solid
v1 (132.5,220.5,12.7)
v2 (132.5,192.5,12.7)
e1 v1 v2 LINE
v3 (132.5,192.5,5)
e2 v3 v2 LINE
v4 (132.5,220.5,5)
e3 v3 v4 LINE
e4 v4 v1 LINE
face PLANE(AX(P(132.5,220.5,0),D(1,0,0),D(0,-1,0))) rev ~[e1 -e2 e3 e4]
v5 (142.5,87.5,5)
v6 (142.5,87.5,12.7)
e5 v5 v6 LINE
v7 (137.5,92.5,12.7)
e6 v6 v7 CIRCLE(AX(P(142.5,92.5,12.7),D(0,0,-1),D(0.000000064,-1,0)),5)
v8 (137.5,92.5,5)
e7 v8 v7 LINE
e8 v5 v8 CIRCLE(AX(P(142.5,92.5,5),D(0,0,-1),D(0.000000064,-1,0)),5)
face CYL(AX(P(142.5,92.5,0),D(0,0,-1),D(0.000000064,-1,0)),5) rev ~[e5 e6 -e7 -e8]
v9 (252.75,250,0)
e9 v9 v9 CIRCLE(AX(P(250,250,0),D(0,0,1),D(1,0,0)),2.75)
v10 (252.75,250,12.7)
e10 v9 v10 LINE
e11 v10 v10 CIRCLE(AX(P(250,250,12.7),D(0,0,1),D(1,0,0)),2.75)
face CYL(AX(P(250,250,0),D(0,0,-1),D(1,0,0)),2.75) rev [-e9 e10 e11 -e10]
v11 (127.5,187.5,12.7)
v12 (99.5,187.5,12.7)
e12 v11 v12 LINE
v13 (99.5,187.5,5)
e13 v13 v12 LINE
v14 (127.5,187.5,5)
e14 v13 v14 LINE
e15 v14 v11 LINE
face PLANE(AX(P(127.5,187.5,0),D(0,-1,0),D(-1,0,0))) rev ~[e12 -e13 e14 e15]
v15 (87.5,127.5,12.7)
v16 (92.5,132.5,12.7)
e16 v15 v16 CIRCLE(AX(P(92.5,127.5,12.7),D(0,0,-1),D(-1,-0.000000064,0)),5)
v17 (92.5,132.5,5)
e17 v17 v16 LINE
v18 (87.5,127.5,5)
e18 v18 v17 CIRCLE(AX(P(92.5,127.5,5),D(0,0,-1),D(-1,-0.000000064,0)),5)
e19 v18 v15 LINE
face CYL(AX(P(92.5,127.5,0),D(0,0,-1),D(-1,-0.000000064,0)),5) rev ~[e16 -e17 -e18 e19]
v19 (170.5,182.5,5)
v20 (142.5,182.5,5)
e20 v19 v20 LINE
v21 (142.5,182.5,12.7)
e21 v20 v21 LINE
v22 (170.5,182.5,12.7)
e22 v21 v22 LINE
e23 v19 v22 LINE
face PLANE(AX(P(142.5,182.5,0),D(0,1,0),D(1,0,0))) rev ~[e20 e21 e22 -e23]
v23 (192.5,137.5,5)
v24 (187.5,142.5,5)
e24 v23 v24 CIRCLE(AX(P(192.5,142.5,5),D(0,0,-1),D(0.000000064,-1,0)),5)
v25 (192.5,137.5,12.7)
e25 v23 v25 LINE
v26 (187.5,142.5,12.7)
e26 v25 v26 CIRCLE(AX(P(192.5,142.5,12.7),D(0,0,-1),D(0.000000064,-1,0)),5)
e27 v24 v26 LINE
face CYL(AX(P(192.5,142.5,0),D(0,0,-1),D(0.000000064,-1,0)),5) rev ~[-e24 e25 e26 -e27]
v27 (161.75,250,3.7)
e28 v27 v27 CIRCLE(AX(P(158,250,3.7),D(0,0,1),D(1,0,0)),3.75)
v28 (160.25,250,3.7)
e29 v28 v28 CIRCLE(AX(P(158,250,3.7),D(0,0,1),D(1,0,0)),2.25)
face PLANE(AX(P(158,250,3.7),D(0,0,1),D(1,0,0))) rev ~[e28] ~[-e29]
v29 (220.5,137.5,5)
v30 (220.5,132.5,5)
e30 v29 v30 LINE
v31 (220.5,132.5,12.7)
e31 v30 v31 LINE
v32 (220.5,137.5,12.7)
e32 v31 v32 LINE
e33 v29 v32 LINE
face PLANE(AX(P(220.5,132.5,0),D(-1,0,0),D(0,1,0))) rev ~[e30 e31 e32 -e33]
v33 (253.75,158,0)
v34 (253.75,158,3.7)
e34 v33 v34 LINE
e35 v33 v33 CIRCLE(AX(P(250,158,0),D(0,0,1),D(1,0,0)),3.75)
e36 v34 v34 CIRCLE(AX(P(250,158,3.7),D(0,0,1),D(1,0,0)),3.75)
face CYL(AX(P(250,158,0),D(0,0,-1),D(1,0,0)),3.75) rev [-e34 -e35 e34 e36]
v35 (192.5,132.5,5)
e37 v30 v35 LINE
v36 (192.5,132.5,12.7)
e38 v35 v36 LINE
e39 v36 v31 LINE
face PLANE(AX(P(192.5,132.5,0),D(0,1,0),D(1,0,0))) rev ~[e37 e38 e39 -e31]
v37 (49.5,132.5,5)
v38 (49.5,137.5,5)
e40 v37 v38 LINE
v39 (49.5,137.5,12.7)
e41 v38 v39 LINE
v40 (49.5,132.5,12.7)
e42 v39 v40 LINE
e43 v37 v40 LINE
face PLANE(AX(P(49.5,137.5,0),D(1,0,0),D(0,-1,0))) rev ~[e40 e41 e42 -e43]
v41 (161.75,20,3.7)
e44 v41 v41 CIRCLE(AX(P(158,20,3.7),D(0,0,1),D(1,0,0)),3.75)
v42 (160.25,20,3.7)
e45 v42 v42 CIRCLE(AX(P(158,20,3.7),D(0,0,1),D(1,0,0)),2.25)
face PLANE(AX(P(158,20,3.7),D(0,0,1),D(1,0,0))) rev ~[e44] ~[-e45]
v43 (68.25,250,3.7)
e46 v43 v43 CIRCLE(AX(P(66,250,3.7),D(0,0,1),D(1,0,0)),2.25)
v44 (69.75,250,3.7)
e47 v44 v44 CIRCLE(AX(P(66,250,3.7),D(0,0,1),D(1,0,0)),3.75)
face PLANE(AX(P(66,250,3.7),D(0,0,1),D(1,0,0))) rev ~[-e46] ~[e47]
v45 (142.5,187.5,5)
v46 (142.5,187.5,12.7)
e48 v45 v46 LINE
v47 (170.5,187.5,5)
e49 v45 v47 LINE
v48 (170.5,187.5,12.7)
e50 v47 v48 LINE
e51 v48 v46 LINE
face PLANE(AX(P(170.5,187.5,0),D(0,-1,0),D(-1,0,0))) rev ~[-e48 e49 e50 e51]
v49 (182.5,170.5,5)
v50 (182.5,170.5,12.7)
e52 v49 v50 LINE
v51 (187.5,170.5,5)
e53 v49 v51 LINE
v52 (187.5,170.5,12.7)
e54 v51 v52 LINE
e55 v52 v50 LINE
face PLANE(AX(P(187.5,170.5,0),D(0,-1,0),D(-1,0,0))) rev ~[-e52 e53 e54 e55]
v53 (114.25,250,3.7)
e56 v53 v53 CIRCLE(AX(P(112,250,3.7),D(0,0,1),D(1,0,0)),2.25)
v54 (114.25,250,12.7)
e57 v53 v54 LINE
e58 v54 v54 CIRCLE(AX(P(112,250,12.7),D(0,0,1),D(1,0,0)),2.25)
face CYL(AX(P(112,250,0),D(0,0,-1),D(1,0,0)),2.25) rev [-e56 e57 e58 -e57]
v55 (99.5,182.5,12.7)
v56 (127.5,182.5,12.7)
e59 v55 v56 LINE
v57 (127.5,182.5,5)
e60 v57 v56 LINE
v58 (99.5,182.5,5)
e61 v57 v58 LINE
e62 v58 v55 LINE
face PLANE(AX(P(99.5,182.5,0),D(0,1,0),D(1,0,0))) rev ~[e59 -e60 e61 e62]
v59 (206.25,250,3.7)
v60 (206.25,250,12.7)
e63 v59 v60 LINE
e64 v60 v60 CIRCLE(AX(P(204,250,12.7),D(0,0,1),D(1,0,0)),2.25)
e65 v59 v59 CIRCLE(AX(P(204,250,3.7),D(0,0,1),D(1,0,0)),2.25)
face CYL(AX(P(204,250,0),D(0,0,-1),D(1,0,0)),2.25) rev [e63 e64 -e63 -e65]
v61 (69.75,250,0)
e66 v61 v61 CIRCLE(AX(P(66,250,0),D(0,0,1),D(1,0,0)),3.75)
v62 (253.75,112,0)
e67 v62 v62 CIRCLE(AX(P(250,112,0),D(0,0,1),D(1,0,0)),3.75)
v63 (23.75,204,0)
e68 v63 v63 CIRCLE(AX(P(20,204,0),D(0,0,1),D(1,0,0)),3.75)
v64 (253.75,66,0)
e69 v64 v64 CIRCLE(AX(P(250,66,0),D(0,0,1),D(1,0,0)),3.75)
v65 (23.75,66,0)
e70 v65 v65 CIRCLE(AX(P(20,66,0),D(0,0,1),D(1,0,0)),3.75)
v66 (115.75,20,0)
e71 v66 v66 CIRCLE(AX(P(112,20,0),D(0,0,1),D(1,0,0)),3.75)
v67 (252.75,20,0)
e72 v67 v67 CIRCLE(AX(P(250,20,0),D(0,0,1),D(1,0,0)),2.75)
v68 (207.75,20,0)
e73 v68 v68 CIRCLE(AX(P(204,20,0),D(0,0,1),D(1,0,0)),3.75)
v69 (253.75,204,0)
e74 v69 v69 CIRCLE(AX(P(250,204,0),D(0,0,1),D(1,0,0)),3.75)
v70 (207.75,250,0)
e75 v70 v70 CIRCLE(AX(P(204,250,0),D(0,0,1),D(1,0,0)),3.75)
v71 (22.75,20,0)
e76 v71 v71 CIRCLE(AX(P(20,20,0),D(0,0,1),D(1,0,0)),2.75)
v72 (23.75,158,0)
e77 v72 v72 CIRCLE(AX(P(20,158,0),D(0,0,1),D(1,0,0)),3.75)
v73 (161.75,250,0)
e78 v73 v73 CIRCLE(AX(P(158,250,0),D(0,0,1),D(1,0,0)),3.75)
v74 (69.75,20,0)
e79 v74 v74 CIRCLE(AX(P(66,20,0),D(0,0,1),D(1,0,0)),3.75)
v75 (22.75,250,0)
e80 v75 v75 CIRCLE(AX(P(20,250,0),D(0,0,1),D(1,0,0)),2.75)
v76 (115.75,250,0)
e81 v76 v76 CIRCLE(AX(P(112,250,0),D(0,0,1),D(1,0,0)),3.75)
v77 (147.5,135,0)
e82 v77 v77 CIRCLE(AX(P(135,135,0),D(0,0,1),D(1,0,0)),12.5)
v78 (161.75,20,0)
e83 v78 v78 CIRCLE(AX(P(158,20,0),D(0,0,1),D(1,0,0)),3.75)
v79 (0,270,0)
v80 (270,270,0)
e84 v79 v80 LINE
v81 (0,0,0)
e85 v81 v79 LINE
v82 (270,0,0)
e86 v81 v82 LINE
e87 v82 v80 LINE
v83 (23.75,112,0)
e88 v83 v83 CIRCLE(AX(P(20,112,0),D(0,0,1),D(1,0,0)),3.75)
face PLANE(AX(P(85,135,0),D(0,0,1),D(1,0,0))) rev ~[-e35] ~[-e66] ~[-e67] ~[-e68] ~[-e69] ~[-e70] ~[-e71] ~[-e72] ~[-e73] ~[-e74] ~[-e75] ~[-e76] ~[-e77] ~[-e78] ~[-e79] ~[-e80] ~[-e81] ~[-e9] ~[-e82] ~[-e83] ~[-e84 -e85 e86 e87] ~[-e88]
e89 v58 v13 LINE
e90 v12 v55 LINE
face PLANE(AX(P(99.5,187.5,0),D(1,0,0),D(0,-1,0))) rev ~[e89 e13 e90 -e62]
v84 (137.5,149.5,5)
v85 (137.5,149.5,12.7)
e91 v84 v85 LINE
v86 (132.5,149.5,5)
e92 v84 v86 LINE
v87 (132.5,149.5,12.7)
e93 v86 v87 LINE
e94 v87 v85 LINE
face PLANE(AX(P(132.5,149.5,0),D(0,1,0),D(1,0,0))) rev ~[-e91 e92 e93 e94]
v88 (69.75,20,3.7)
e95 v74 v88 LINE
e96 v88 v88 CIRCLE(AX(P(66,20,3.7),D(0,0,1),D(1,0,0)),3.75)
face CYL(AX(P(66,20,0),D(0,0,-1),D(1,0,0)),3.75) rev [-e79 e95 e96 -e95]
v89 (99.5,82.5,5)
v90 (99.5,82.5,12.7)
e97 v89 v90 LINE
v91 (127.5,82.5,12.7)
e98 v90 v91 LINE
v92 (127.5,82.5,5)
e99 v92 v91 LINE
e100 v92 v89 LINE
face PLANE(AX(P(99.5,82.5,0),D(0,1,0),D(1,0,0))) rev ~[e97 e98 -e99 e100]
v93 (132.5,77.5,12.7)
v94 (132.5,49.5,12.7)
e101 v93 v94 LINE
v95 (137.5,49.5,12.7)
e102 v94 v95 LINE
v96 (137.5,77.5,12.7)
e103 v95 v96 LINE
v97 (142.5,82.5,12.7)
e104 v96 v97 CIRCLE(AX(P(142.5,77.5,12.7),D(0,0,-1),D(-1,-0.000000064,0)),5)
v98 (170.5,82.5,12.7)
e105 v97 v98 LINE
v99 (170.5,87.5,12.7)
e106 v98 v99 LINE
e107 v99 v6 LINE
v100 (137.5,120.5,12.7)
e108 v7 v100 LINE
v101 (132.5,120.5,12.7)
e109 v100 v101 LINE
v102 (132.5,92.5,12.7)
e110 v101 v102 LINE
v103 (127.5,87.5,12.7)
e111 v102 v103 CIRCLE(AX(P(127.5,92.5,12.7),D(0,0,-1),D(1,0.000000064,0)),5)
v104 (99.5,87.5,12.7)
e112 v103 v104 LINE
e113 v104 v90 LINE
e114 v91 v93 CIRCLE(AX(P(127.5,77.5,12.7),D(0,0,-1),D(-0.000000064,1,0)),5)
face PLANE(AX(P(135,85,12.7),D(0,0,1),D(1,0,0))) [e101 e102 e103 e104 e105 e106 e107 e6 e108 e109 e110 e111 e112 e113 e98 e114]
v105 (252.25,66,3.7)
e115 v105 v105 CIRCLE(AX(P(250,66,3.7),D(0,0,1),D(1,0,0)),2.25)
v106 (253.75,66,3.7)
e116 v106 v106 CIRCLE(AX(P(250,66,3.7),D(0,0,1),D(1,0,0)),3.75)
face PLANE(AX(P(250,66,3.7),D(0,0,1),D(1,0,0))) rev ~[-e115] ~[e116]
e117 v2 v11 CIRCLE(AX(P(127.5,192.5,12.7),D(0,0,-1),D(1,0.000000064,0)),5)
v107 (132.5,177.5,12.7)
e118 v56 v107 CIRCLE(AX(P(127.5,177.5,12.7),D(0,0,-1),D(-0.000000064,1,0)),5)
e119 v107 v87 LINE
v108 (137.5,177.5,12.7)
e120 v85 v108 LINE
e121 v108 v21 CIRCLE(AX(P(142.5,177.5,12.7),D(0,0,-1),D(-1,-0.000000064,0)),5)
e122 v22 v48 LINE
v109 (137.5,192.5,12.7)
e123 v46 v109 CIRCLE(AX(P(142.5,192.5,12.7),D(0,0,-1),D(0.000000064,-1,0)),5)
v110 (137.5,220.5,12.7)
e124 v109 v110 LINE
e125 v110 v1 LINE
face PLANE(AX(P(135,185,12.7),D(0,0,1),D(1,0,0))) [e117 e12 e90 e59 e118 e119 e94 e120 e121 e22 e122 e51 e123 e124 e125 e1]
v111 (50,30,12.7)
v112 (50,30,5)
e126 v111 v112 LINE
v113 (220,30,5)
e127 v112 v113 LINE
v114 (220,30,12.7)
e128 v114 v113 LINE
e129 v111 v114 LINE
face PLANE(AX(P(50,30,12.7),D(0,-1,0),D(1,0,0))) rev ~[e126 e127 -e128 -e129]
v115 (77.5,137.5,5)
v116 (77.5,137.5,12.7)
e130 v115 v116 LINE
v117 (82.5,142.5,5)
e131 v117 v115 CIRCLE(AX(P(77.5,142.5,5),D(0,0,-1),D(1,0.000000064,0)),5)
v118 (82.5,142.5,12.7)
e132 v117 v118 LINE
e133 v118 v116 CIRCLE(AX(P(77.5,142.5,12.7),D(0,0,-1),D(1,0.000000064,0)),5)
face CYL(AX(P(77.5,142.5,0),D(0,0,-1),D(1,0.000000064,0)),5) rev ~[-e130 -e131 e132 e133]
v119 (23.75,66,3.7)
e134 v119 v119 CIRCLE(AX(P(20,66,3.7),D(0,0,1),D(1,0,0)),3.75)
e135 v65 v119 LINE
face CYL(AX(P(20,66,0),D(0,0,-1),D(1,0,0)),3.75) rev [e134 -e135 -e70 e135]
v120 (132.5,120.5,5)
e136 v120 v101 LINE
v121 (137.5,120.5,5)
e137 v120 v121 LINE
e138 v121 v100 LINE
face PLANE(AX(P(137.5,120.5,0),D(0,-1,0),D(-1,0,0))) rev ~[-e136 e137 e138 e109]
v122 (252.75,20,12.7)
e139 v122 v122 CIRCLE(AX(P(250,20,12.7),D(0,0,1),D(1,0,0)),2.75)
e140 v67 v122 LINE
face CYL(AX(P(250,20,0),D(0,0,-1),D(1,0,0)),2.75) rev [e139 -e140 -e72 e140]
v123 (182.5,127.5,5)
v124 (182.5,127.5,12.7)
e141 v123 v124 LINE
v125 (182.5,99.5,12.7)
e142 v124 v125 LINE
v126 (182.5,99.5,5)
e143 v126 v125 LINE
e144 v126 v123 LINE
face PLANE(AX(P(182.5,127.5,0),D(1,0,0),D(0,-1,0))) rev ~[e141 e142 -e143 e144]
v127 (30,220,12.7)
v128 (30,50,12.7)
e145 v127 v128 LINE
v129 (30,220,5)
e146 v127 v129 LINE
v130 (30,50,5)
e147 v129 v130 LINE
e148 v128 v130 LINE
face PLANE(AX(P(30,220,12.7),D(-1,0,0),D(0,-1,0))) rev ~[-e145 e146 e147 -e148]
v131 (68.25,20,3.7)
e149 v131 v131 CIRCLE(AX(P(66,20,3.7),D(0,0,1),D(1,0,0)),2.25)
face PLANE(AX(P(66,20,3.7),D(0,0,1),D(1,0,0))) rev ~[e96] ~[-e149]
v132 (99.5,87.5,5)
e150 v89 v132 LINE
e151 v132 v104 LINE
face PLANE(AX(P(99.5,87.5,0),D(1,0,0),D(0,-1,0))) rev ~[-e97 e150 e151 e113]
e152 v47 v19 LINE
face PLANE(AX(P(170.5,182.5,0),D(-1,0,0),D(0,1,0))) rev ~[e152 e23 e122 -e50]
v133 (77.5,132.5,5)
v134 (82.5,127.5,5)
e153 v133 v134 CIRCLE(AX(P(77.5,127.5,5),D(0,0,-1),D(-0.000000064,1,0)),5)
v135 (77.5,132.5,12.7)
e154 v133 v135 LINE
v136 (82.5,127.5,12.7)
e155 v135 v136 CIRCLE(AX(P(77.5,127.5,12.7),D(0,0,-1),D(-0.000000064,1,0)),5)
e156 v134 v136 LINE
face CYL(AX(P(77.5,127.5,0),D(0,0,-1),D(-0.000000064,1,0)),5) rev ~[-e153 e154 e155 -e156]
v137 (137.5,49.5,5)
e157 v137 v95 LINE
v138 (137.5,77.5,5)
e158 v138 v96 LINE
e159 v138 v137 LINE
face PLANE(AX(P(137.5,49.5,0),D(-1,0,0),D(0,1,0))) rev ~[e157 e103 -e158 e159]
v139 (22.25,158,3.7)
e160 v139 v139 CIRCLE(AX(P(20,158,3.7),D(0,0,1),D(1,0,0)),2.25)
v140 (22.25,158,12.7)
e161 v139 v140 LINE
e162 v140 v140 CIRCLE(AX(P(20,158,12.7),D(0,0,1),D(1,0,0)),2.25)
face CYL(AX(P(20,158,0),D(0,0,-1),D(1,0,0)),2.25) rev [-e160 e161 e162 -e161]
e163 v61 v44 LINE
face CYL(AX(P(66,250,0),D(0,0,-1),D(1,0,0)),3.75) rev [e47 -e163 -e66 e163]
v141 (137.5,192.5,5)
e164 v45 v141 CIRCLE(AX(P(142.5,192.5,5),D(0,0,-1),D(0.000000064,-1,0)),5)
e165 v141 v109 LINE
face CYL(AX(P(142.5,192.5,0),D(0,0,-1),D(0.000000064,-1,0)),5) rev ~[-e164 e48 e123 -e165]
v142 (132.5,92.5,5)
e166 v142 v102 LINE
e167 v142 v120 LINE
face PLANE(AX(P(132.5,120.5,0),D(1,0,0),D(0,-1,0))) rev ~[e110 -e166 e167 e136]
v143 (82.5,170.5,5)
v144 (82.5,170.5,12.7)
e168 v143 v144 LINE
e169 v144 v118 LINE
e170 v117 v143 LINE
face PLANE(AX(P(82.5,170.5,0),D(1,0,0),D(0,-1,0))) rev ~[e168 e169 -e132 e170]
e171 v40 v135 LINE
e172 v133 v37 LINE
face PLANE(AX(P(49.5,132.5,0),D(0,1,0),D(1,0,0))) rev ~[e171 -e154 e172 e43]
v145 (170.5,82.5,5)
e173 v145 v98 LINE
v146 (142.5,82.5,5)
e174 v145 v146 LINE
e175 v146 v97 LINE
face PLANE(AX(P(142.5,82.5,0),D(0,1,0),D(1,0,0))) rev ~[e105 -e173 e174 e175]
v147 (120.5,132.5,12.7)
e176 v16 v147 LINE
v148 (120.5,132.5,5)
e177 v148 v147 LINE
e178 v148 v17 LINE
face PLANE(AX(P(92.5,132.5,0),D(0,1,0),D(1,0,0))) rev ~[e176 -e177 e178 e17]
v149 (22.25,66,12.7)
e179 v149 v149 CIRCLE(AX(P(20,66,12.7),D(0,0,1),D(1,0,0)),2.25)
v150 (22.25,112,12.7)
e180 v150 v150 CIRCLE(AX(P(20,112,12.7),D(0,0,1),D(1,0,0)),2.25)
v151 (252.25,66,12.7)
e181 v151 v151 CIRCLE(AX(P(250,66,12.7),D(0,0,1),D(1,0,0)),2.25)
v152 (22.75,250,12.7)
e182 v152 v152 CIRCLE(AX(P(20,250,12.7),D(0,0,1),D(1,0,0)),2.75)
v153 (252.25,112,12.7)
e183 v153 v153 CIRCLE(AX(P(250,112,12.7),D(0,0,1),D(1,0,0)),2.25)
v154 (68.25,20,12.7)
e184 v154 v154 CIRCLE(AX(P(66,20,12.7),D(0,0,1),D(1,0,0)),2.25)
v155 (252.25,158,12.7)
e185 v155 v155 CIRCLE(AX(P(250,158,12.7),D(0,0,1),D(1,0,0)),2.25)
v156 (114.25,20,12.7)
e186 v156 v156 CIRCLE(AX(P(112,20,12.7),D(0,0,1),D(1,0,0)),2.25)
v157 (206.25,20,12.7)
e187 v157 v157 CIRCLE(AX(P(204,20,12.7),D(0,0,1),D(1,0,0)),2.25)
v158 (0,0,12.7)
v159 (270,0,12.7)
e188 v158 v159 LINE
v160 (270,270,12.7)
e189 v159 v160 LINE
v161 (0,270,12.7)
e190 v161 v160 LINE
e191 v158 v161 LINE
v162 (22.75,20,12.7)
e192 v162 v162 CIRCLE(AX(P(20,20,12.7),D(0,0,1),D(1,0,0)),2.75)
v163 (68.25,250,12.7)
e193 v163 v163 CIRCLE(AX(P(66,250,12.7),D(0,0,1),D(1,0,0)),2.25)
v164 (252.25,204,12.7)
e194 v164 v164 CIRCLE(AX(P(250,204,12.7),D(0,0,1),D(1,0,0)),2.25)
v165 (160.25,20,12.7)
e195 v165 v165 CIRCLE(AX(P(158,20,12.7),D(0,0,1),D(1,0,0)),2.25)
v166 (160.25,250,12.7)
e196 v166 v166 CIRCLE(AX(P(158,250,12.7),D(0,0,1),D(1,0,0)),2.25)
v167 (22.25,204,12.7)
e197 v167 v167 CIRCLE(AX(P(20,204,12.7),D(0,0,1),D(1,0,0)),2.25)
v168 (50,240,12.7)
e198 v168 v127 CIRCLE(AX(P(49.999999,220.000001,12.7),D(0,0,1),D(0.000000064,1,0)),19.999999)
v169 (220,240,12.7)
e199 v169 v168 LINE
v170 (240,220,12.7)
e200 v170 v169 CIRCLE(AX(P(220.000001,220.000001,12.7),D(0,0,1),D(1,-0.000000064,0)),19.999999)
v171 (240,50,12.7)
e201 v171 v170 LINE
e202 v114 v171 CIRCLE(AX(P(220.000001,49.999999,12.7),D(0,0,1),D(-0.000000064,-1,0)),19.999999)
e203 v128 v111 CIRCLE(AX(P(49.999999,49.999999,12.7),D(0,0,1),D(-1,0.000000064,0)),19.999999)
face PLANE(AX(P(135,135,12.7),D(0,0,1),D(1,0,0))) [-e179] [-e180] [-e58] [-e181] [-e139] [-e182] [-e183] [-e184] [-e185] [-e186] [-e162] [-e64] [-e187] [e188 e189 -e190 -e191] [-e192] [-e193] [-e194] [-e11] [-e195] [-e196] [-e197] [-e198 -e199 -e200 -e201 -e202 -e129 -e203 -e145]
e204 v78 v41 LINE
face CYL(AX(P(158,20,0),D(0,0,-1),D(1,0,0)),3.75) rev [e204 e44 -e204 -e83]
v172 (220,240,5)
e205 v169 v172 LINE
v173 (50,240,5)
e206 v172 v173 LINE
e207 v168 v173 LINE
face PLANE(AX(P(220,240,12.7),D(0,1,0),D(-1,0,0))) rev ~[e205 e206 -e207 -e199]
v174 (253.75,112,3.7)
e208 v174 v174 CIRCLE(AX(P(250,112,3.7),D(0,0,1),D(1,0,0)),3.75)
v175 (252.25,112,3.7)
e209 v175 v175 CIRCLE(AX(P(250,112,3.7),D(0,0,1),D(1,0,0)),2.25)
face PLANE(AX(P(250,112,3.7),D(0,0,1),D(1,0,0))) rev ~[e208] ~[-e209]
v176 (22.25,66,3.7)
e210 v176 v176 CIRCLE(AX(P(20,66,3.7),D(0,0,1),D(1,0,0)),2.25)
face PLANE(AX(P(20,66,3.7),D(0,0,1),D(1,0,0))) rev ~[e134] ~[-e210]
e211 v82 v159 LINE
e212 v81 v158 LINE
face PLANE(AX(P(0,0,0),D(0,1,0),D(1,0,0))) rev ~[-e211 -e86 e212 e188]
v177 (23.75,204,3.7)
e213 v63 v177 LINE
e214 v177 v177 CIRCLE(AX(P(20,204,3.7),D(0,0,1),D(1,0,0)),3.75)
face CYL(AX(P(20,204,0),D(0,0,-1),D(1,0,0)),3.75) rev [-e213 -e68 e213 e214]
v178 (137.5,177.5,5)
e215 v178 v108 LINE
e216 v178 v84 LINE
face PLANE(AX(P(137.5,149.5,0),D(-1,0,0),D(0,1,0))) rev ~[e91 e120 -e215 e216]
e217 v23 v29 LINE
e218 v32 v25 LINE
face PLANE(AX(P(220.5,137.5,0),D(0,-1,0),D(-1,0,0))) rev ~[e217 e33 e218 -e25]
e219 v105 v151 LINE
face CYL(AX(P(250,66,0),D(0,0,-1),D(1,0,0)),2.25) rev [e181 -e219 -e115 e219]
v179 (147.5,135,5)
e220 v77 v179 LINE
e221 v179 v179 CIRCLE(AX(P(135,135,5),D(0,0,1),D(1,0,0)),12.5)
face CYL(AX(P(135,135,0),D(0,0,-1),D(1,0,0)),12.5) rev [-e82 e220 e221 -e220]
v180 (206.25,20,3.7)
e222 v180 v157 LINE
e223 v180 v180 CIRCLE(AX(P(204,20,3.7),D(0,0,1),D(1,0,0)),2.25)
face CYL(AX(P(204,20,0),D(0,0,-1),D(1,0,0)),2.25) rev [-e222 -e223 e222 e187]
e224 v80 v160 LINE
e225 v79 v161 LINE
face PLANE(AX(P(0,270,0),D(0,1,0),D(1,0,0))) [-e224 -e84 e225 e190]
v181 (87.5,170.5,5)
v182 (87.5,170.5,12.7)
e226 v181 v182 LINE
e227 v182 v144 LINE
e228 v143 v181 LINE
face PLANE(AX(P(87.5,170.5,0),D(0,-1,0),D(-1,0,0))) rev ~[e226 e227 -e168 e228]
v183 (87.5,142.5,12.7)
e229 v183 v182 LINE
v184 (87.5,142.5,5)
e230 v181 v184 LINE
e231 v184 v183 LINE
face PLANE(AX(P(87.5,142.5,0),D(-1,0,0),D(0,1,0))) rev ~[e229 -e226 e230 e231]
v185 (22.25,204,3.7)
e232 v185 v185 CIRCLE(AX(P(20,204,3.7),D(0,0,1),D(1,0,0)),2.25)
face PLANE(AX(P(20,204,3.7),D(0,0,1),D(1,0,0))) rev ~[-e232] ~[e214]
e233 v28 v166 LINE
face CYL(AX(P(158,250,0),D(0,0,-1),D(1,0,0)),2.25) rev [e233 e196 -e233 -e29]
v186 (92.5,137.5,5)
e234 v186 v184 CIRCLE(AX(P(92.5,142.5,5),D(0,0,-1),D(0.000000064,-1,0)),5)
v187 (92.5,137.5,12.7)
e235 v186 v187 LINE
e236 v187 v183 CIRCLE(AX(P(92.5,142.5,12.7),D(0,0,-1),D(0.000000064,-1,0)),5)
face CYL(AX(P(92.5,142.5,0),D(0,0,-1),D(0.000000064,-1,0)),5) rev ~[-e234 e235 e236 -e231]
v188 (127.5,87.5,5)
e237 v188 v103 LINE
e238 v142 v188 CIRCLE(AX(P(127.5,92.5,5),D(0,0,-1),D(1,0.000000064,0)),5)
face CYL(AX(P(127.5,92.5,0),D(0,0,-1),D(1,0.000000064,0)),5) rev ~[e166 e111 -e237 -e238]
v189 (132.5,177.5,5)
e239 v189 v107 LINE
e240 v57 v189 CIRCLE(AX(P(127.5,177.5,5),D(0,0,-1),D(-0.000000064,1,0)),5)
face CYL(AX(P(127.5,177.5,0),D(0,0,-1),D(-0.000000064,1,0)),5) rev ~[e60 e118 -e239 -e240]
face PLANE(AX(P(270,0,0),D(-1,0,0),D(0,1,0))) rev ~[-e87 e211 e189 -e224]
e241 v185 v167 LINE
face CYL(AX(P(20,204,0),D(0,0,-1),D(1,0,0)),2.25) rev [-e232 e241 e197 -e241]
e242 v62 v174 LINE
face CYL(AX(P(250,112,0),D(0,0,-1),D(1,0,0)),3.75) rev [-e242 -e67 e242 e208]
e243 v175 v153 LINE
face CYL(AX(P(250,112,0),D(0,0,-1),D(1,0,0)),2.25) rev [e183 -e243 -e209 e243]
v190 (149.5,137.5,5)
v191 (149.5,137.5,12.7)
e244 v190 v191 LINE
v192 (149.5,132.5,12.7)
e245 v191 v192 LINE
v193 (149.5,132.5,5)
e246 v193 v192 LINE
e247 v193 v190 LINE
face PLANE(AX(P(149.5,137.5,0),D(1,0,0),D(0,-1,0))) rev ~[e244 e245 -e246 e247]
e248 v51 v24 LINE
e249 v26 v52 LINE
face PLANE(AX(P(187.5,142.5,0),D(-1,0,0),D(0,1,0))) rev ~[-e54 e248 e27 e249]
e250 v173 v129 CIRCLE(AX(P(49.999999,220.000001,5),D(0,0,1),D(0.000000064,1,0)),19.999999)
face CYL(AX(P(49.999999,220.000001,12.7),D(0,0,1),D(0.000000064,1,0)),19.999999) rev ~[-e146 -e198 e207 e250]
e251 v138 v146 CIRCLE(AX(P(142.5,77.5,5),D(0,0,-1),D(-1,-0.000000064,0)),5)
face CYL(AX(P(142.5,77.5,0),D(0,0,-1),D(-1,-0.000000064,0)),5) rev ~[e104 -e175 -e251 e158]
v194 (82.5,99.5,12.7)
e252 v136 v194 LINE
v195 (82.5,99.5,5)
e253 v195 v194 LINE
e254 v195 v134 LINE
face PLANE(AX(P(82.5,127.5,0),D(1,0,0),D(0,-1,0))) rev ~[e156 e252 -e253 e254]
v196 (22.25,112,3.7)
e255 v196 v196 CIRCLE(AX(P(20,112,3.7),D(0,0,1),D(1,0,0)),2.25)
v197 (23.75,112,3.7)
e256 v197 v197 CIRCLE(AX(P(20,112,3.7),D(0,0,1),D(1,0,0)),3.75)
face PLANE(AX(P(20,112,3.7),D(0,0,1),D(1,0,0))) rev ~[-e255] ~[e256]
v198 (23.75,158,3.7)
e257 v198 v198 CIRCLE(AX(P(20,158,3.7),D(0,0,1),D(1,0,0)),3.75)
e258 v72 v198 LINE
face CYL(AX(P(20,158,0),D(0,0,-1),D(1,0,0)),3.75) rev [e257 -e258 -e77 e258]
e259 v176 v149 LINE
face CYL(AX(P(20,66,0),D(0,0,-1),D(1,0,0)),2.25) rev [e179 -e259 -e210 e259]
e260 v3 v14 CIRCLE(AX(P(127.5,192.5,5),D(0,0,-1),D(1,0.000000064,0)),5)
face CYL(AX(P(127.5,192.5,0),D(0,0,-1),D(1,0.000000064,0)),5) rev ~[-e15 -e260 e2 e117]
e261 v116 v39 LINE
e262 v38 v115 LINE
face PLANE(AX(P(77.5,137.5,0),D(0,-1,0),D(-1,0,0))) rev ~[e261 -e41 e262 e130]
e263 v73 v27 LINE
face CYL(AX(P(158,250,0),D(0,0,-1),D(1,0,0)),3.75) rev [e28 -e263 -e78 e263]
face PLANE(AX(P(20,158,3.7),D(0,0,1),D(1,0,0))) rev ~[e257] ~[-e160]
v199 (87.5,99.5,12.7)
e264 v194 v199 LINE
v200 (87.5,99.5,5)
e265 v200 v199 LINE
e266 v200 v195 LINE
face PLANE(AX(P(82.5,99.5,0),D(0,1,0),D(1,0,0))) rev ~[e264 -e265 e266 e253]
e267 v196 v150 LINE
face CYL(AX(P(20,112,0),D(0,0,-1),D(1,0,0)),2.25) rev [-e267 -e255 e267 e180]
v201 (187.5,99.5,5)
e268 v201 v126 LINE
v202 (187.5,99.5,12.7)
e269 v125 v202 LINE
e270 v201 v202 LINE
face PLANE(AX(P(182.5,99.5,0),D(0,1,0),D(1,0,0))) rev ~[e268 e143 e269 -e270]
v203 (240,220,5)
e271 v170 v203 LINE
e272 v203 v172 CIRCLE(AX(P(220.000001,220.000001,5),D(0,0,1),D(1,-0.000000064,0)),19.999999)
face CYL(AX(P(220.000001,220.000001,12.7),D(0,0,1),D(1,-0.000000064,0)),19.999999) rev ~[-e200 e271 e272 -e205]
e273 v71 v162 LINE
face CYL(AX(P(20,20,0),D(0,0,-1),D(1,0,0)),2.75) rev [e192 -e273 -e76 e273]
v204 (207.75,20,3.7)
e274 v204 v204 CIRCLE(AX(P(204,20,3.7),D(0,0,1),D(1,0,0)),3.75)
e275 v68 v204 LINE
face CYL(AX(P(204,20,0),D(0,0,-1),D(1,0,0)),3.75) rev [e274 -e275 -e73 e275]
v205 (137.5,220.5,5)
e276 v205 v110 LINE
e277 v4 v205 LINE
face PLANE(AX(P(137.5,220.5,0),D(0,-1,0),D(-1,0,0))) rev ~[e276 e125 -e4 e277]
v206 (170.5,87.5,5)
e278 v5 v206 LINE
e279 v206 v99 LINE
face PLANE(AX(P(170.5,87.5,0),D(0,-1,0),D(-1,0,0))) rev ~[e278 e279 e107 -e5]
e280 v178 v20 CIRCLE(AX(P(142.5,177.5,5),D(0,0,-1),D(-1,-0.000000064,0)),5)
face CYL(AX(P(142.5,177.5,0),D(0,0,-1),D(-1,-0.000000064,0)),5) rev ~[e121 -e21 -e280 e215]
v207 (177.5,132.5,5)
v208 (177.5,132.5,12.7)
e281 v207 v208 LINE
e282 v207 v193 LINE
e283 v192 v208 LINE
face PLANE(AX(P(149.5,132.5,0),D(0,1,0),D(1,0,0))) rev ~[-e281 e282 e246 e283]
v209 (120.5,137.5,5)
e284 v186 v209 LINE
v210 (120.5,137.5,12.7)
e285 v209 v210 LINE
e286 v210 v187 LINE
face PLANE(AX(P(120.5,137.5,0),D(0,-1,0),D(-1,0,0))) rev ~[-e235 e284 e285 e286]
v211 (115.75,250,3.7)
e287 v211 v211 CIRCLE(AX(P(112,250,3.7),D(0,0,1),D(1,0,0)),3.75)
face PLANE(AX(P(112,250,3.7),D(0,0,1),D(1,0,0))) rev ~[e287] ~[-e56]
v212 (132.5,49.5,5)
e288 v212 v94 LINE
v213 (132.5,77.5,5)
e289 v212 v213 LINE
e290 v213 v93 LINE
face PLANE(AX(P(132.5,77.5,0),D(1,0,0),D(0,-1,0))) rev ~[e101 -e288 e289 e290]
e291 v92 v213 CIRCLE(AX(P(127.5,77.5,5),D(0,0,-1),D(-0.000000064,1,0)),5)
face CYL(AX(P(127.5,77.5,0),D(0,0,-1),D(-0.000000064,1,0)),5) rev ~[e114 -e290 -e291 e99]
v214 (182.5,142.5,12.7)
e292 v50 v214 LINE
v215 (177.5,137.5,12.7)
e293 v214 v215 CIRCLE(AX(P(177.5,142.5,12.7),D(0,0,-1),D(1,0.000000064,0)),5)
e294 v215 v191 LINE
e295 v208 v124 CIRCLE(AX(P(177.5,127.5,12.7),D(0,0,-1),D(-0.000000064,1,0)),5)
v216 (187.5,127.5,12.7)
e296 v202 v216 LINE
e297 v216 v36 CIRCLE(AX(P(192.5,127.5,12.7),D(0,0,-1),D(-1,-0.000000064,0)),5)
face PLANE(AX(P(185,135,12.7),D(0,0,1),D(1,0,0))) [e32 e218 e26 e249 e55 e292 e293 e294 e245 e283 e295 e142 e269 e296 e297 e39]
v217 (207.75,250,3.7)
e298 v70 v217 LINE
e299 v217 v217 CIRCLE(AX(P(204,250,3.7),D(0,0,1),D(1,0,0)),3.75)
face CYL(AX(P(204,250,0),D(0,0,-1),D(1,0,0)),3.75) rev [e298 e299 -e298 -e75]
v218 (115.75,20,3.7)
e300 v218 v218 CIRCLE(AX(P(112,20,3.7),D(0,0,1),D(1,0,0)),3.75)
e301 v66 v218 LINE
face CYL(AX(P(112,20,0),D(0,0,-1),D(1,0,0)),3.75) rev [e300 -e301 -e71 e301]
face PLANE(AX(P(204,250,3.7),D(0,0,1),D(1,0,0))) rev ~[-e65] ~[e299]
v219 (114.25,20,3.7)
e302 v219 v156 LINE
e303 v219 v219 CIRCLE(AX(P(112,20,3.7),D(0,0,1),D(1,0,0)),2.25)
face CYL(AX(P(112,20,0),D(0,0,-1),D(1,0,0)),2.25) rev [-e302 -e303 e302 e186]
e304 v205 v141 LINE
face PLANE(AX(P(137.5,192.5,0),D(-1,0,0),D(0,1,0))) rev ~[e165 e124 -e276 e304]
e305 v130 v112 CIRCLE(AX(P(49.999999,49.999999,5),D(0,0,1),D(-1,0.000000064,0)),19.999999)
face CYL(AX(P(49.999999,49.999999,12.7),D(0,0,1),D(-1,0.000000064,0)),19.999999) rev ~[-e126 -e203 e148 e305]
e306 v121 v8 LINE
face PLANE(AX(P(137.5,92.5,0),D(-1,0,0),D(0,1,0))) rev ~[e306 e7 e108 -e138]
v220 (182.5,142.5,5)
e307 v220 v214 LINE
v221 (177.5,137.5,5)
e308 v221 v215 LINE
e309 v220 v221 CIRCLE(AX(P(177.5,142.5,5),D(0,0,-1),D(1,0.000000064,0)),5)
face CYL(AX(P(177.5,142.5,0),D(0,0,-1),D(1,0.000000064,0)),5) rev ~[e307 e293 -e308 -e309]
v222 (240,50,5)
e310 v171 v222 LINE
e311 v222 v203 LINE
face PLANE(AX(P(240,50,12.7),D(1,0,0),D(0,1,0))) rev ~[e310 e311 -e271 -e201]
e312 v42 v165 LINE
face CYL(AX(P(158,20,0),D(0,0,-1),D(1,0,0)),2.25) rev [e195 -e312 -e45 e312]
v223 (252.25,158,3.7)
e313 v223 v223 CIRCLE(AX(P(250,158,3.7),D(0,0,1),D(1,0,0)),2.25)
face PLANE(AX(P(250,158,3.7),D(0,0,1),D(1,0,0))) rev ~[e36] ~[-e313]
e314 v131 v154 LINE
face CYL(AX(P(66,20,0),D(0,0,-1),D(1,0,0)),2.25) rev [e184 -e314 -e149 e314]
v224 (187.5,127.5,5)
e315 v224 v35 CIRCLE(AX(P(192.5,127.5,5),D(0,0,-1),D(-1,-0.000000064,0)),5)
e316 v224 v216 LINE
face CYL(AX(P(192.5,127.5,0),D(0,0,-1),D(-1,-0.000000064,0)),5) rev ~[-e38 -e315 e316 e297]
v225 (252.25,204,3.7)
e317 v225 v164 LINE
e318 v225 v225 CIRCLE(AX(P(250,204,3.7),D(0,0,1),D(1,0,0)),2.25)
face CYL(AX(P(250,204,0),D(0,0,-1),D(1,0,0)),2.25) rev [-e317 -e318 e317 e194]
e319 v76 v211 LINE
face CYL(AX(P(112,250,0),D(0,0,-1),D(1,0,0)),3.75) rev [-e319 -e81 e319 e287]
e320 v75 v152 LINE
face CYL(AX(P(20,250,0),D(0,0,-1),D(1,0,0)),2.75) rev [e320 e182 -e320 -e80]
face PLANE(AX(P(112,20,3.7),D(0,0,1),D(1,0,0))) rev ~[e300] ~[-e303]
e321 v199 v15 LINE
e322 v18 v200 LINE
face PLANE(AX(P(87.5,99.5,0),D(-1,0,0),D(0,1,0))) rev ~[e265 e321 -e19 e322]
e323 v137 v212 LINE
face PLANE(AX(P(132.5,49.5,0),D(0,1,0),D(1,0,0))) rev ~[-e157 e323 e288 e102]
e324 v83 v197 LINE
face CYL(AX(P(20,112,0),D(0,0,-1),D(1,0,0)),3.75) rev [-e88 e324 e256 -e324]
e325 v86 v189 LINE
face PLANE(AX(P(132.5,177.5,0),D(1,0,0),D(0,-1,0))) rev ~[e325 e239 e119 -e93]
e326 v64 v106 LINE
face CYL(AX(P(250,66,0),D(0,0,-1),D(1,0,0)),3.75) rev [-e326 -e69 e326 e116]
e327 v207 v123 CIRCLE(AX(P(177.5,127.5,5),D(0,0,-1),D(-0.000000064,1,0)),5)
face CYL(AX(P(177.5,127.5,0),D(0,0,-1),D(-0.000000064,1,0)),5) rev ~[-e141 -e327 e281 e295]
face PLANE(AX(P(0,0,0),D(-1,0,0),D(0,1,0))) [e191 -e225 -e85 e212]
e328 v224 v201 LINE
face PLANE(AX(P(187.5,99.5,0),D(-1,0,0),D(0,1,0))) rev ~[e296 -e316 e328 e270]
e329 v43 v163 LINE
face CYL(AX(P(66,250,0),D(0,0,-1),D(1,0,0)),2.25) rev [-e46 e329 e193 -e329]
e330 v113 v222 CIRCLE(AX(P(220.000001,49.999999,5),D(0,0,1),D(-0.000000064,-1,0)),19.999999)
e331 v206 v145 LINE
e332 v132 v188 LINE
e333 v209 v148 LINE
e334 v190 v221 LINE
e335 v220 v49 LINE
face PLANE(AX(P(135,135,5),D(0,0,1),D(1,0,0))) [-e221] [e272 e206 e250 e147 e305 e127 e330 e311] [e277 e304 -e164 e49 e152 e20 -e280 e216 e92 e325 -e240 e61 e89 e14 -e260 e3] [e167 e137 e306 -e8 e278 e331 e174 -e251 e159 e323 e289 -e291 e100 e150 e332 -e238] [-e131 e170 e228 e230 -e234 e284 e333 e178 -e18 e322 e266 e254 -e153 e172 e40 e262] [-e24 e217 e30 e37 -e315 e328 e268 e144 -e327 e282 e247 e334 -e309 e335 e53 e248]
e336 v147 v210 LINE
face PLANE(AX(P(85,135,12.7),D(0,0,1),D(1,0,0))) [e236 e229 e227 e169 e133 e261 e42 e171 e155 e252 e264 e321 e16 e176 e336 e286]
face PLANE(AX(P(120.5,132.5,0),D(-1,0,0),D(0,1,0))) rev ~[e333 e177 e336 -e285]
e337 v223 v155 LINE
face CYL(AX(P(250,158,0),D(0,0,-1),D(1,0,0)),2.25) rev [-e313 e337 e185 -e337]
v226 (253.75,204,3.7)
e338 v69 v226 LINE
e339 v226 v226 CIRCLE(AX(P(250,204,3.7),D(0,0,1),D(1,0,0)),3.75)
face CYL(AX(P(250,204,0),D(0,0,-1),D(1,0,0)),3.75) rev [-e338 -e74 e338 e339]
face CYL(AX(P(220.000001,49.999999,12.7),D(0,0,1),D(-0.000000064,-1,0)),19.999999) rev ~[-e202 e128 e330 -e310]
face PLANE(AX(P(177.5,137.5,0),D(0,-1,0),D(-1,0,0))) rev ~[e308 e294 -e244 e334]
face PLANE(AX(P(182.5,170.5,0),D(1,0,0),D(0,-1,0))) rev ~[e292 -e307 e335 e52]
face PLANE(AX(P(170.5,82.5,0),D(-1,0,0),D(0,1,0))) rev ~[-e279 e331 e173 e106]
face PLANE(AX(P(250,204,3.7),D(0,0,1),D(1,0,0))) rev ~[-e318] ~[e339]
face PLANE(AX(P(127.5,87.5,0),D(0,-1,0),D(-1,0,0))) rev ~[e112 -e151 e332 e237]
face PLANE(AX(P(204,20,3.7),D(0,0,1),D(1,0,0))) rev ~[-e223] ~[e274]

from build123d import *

# Parameters (mm, degrees)
F0_W     = 270
F0_H     = 270
F0_R     = 2.75
F0_R_2   = 2.25
F0_R_3   = 12.5
F1_DEPTH = 12.7
F2_R     = 3.75
F2_R_2   = 2.25
F3_DEPTH = 3.7
F4_R     = 12.5
F5_DEPTH = 7.7
F7_DEPTH = 12.7


with BuildPart() as f1:
    # F0 (on Top) → F1 (new body)
    with BuildSketch(Plane.XY):
        with Locations((135, 135)):
            Rectangle(F0_W, F0_H)
        with Locations((20, 20)):
            Circle(F0_R, mode=Mode.SUBTRACT)
        with Locations((66, 20)):
            Circle(F0_R_2, mode=Mode.SUBTRACT)
        with Locations((20, 66)):
            Circle(F0_R_2, mode=Mode.SUBTRACT)
        with Locations((112, 20)):
            Circle(F0_R_2, mode=Mode.SUBTRACT)
        with Locations((20, 112)):
            Circle(F0_R_2, mode=Mode.SUBTRACT)
        with Locations((158, 20)):
            Circle(F0_R_2, mode=Mode.SUBTRACT)
        with Locations((204, 20)):
            Circle(F0_R_2, mode=Mode.SUBTRACT)
        with Locations((250, 20)):
            Circle(F0_R, mode=Mode.SUBTRACT)
        with Locations((250, 66)):
            Circle(F0_R_2, mode=Mode.SUBTRACT)
        with Locations((250, 112)):
            Circle(F0_R_2, mode=Mode.SUBTRACT)
        with Locations((20, 158)):
            Circle(F0_R_2, mode=Mode.SUBTRACT)
        with Locations((20, 204)):
            Circle(F0_R_2, mode=Mode.SUBTRACT)
        with Locations((20, 250)):
            Circle(F0_R, mode=Mode.SUBTRACT)
        with Locations((66, 250)):
            Circle(F0_R_2, mode=Mode.SUBTRACT)
        with Locations((112, 250)):
            Circle(F0_R_2, mode=Mode.SUBTRACT)
        with Locations((135, 135)):
            Circle(F0_R_3, mode=Mode.SUBTRACT)
        with Locations((250, 158)):
            Circle(F0_R_2, mode=Mode.SUBTRACT)
        with Locations((158, 250)):
            Circle(F0_R_2, mode=Mode.SUBTRACT)
        with Locations((250, 204)):
            Circle(F0_R_2, mode=Mode.SUBTRACT)
        with Locations((204, 250)):
            Circle(F0_R_2, mode=Mode.SUBTRACT)
        with Locations((250, 250)):
            Circle(F0_R, mode=Mode.SUBTRACT)
    extrude(amount=F1_DEPTH)

    # F2 (on face) → F3 (cut)
    with BuildSketch(Plane.XY):
        with Locations((20, 204)):
            Circle(F2_R)
        with Locations((20, 204)):
            Circle(F2_R_2, mode=Mode.SUBTRACT)
        with Locations((66, 250)):
            Circle(F2_R)
        with Locations((66, 250)):
            Circle(F2_R_2, mode=Mode.SUBTRACT)
        with Locations((20, 158)):
            Circle(F2_R)
        with Locations((20, 158)):
            Circle(F2_R_2, mode=Mode.SUBTRACT)
        with Locations((20, 112)):
            Circle(F2_R)
        with Locations((20, 112)):
            Circle(F2_R_2, mode=Mode.SUBTRACT)
        with Locations((20, 66)):
            Circle(F2_R)
        with Locations((20, 66)):
            Circle(F2_R_2, mode=Mode.SUBTRACT)
        with Locations((66, 20)):
            Circle(F2_R)
        with Locations((66, 20)):
            Circle(F2_R_2, mode=Mode.SUBTRACT)
        with Locations((112, 20)):
            Circle(F2_R)
        with Locations((112, 20)):
            Circle(F2_R_2, mode=Mode.SUBTRACT)
        with Locations((158, 20)):
            Circle(F2_R)
        with Locations((158, 20)):
            Circle(F2_R_2, mode=Mode.SUBTRACT)
        with Locations((204, 20)):
            Circle(F2_R)
        with Locations((204, 20)):
            Circle(F2_R_2, mode=Mode.SUBTRACT)
        with Locations((250, 66)):
            Circle(F2_R)
        with Locations((250, 66)):
            Circle(F2_R_2, mode=Mode.SUBTRACT)
        with Locations((250, 112)):
            Circle(F2_R)
        with Locations((250, 112)):
            Circle(F2_R_2, mode=Mode.SUBTRACT)
        with Locations((250, 158)):
            Circle(F2_R)
        with Locations((250, 158)):
            Circle(F2_R_2, mode=Mode.SUBTRACT)
        with Locations((250, 204)):
            Circle(F2_R)
        with Locations((250, 204)):
            Circle(F2_R_2, mode=Mode.SUBTRACT)
        with Locations((112, 250)):
            Circle(F2_R)
        with Locations((112, 250)):
            Circle(F2_R_2, mode=Mode.SUBTRACT)
        with Locations((158, 250)):
            Circle(F2_R)
        with Locations((158, 250)):
            Circle(F2_R_2, mode=Mode.SUBTRACT)
        with Locations((204, 250)):
            Circle(F2_R)
        with Locations((204, 250)):
            Circle(F2_R_2, mode=Mode.SUBTRACT)
    extrude(amount=F3_DEPTH, mode=Mode.SUBTRACT)

    # F4 (on face) → F5 (cut)
    with BuildSketch(Plane.XY.offset(12.7)):
        with BuildLine():
            Line((220, 240), (50, 240))
            ThreePointArc((50, 240), (35.857864, 234.142136), (30, 220))
            Line((30, 220), (30, 50))
            ThreePointArc((30, 50), (35.857864, 35.857864), (50, 30))
            Line((50, 30), (220, 30))
            ThreePointArc((220, 30), (234.142136, 35.857864), (240, 50))
            Line((240, 50), (240, 220))
            ThreePointArc((240, 220), (234.142136, 234.142136), (220, 240))
        make_face()
        with Locations((135, 135)):
            Circle(F4_R, mode=Mode.SUBTRACT)
    extrude(amount=-F5_DEPTH, mode=Mode.SUBTRACT)

    # F6 (on face) → F7 (join)
    with BuildSketch(Plane.XY):
        with BuildLine():
            Line((87.5, 170.5), (82.5, 170.5))
            Line((82.5, 170.5), (82.5, 142.5))
            ThreePointArc((82.5, 142.5), (81.035534, 138.964466), (77.5, 137.5))
            Line((77.5, 137.5), (49.5, 137.5))
            Line((49.5, 137.5), (49.5, 132.5))
            Line((49.5, 132.5), (77.5, 132.5))
            ThreePointArc((77.5, 132.5), (81.035534, 131.035534), (82.5, 127.5))
            Line((82.5, 127.5), (82.5, 99.5))
            Line((82.5, 99.5), (87.5, 99.5))
            Line((87.5, 99.5), (87.5, 127.5))
            ThreePointArc((87.5, 127.5), (88.964466, 131.035534), (92.5, 132.5))
            Line((92.5, 132.5), (120.5, 132.5))
            Line((120.5, 132.5), (120.5, 137.5))
            Line((120.5, 137.5), (92.5, 137.5))
            ThreePointArc((92.5, 137.5), (88.964466, 138.964466), (87.5, 142.5))
            Line((87.5, 142.5), (87.5, 170.5))
        make_face()
        with BuildLine():
            Line((182.5, 170.5), (182.5, 142.5))
            ThreePointArc((182.5, 142.5), (181.035534, 138.964466), (177.5, 137.5))
            Line((177.5, 137.5), (149.5, 137.5))
            Line((149.5, 137.5), (149.5, 132.5))
            Line((149.5, 132.5), (177.5, 132.5))
            ThreePointArc((177.5, 132.5), (181.035534, 131.035534), (182.5, 127.5))
            Line((182.5, 127.5), (182.5, 99.5))
            Line((182.5, 99.5), (187.5, 99.5))
            Line((187.5, 99.5), (187.5, 127.5))
            ThreePointArc((187.5, 127.5), (188.964466, 131.035534), (192.5, 132.5))
            Line((192.5, 132.5), (220.5, 132.5))
            Line((220.5, 132.5), (220.5, 137.5))
            Line((220.5, 137.5), (192.5, 137.5))
            ThreePointArc((192.5, 137.5), (188.964466, 138.964466), (187.5, 142.5))
            Line((187.5, 142.5), (187.5, 170.5))
            Line((187.5, 170.5), (182.5, 170.5))
        make_face()
        with BuildLine():
            Line((137.5, 192.5), (137.5, 220.5))
            Line((137.5, 220.5), (132.5, 220.5))
            Line((132.5, 220.5), (132.5, 192.5))
            ThreePointArc((132.5, 192.5), (131.035534, 188.964466), (127.5, 187.5))
            Line((127.5, 187.5), (99.5, 187.5))
            Line((99.5, 187.5), (99.5, 182.5))
            Line((99.5, 182.5), (127.5, 182.5))
            ThreePointArc((127.5, 182.5), (131.035534, 181.035534), (132.5, 177.5))
            Line((132.5, 177.5), (132.5, 149.5))
            Line((132.5, 149.5), (137.5, 149.5))
            Line((137.5, 149.5), (137.5, 177.5))
            ThreePointArc((137.5, 177.5), (138.964466, 181.035534), (142.5, 182.5))
            Line((142.5, 182.5), (170.5, 182.5))
            Line((170.5, 182.5), (170.5, 187.5))
            Line((170.5, 187.5), (142.5, 187.5))
            ThreePointArc((142.5, 187.5), (138.964466, 188.964466), (137.5, 192.5))
        make_face()
        with BuildLine():
            Line((132.5, 77.5), (132.5, 49.5))
            Line((132.5, 49.5), (137.5, 49.5))
            Line((137.5, 49.5), (137.5, 77.5))
            ThreePointArc((137.5, 77.5), (138.964466, 81.035534), (142.5, 82.5))
            Line((142.5, 82.5), (170.5, 82.5))
            Line((170.5, 82.5), (170.5, 87.5))
            Line((170.5, 87.5), (142.5, 87.5))
            ThreePointArc((142.5, 87.5), (138.964466, 88.964466), (137.5, 92.5))
            Line((137.5, 92.5), (137.5, 120.5))
            Line((137.5, 120.5), (132.5, 120.5))
            Line((132.5, 120.5), (132.5, 92.5))
            ThreePointArc((132.5, 92.5), (131.035534, 88.964466), (127.5, 87.5))
            Line((127.5, 87.5), (99.5, 87.5))
            Line((99.5, 87.5), (99.5, 82.5))
            Line((99.5, 82.5), (127.5, 82.5))
            ThreePointArc((127.5, 82.5), (131.035534, 81.035534), (132.5, 77.5))
        make_face()
    extrude(amount=F7_DEPTH)


solid = f1.part
